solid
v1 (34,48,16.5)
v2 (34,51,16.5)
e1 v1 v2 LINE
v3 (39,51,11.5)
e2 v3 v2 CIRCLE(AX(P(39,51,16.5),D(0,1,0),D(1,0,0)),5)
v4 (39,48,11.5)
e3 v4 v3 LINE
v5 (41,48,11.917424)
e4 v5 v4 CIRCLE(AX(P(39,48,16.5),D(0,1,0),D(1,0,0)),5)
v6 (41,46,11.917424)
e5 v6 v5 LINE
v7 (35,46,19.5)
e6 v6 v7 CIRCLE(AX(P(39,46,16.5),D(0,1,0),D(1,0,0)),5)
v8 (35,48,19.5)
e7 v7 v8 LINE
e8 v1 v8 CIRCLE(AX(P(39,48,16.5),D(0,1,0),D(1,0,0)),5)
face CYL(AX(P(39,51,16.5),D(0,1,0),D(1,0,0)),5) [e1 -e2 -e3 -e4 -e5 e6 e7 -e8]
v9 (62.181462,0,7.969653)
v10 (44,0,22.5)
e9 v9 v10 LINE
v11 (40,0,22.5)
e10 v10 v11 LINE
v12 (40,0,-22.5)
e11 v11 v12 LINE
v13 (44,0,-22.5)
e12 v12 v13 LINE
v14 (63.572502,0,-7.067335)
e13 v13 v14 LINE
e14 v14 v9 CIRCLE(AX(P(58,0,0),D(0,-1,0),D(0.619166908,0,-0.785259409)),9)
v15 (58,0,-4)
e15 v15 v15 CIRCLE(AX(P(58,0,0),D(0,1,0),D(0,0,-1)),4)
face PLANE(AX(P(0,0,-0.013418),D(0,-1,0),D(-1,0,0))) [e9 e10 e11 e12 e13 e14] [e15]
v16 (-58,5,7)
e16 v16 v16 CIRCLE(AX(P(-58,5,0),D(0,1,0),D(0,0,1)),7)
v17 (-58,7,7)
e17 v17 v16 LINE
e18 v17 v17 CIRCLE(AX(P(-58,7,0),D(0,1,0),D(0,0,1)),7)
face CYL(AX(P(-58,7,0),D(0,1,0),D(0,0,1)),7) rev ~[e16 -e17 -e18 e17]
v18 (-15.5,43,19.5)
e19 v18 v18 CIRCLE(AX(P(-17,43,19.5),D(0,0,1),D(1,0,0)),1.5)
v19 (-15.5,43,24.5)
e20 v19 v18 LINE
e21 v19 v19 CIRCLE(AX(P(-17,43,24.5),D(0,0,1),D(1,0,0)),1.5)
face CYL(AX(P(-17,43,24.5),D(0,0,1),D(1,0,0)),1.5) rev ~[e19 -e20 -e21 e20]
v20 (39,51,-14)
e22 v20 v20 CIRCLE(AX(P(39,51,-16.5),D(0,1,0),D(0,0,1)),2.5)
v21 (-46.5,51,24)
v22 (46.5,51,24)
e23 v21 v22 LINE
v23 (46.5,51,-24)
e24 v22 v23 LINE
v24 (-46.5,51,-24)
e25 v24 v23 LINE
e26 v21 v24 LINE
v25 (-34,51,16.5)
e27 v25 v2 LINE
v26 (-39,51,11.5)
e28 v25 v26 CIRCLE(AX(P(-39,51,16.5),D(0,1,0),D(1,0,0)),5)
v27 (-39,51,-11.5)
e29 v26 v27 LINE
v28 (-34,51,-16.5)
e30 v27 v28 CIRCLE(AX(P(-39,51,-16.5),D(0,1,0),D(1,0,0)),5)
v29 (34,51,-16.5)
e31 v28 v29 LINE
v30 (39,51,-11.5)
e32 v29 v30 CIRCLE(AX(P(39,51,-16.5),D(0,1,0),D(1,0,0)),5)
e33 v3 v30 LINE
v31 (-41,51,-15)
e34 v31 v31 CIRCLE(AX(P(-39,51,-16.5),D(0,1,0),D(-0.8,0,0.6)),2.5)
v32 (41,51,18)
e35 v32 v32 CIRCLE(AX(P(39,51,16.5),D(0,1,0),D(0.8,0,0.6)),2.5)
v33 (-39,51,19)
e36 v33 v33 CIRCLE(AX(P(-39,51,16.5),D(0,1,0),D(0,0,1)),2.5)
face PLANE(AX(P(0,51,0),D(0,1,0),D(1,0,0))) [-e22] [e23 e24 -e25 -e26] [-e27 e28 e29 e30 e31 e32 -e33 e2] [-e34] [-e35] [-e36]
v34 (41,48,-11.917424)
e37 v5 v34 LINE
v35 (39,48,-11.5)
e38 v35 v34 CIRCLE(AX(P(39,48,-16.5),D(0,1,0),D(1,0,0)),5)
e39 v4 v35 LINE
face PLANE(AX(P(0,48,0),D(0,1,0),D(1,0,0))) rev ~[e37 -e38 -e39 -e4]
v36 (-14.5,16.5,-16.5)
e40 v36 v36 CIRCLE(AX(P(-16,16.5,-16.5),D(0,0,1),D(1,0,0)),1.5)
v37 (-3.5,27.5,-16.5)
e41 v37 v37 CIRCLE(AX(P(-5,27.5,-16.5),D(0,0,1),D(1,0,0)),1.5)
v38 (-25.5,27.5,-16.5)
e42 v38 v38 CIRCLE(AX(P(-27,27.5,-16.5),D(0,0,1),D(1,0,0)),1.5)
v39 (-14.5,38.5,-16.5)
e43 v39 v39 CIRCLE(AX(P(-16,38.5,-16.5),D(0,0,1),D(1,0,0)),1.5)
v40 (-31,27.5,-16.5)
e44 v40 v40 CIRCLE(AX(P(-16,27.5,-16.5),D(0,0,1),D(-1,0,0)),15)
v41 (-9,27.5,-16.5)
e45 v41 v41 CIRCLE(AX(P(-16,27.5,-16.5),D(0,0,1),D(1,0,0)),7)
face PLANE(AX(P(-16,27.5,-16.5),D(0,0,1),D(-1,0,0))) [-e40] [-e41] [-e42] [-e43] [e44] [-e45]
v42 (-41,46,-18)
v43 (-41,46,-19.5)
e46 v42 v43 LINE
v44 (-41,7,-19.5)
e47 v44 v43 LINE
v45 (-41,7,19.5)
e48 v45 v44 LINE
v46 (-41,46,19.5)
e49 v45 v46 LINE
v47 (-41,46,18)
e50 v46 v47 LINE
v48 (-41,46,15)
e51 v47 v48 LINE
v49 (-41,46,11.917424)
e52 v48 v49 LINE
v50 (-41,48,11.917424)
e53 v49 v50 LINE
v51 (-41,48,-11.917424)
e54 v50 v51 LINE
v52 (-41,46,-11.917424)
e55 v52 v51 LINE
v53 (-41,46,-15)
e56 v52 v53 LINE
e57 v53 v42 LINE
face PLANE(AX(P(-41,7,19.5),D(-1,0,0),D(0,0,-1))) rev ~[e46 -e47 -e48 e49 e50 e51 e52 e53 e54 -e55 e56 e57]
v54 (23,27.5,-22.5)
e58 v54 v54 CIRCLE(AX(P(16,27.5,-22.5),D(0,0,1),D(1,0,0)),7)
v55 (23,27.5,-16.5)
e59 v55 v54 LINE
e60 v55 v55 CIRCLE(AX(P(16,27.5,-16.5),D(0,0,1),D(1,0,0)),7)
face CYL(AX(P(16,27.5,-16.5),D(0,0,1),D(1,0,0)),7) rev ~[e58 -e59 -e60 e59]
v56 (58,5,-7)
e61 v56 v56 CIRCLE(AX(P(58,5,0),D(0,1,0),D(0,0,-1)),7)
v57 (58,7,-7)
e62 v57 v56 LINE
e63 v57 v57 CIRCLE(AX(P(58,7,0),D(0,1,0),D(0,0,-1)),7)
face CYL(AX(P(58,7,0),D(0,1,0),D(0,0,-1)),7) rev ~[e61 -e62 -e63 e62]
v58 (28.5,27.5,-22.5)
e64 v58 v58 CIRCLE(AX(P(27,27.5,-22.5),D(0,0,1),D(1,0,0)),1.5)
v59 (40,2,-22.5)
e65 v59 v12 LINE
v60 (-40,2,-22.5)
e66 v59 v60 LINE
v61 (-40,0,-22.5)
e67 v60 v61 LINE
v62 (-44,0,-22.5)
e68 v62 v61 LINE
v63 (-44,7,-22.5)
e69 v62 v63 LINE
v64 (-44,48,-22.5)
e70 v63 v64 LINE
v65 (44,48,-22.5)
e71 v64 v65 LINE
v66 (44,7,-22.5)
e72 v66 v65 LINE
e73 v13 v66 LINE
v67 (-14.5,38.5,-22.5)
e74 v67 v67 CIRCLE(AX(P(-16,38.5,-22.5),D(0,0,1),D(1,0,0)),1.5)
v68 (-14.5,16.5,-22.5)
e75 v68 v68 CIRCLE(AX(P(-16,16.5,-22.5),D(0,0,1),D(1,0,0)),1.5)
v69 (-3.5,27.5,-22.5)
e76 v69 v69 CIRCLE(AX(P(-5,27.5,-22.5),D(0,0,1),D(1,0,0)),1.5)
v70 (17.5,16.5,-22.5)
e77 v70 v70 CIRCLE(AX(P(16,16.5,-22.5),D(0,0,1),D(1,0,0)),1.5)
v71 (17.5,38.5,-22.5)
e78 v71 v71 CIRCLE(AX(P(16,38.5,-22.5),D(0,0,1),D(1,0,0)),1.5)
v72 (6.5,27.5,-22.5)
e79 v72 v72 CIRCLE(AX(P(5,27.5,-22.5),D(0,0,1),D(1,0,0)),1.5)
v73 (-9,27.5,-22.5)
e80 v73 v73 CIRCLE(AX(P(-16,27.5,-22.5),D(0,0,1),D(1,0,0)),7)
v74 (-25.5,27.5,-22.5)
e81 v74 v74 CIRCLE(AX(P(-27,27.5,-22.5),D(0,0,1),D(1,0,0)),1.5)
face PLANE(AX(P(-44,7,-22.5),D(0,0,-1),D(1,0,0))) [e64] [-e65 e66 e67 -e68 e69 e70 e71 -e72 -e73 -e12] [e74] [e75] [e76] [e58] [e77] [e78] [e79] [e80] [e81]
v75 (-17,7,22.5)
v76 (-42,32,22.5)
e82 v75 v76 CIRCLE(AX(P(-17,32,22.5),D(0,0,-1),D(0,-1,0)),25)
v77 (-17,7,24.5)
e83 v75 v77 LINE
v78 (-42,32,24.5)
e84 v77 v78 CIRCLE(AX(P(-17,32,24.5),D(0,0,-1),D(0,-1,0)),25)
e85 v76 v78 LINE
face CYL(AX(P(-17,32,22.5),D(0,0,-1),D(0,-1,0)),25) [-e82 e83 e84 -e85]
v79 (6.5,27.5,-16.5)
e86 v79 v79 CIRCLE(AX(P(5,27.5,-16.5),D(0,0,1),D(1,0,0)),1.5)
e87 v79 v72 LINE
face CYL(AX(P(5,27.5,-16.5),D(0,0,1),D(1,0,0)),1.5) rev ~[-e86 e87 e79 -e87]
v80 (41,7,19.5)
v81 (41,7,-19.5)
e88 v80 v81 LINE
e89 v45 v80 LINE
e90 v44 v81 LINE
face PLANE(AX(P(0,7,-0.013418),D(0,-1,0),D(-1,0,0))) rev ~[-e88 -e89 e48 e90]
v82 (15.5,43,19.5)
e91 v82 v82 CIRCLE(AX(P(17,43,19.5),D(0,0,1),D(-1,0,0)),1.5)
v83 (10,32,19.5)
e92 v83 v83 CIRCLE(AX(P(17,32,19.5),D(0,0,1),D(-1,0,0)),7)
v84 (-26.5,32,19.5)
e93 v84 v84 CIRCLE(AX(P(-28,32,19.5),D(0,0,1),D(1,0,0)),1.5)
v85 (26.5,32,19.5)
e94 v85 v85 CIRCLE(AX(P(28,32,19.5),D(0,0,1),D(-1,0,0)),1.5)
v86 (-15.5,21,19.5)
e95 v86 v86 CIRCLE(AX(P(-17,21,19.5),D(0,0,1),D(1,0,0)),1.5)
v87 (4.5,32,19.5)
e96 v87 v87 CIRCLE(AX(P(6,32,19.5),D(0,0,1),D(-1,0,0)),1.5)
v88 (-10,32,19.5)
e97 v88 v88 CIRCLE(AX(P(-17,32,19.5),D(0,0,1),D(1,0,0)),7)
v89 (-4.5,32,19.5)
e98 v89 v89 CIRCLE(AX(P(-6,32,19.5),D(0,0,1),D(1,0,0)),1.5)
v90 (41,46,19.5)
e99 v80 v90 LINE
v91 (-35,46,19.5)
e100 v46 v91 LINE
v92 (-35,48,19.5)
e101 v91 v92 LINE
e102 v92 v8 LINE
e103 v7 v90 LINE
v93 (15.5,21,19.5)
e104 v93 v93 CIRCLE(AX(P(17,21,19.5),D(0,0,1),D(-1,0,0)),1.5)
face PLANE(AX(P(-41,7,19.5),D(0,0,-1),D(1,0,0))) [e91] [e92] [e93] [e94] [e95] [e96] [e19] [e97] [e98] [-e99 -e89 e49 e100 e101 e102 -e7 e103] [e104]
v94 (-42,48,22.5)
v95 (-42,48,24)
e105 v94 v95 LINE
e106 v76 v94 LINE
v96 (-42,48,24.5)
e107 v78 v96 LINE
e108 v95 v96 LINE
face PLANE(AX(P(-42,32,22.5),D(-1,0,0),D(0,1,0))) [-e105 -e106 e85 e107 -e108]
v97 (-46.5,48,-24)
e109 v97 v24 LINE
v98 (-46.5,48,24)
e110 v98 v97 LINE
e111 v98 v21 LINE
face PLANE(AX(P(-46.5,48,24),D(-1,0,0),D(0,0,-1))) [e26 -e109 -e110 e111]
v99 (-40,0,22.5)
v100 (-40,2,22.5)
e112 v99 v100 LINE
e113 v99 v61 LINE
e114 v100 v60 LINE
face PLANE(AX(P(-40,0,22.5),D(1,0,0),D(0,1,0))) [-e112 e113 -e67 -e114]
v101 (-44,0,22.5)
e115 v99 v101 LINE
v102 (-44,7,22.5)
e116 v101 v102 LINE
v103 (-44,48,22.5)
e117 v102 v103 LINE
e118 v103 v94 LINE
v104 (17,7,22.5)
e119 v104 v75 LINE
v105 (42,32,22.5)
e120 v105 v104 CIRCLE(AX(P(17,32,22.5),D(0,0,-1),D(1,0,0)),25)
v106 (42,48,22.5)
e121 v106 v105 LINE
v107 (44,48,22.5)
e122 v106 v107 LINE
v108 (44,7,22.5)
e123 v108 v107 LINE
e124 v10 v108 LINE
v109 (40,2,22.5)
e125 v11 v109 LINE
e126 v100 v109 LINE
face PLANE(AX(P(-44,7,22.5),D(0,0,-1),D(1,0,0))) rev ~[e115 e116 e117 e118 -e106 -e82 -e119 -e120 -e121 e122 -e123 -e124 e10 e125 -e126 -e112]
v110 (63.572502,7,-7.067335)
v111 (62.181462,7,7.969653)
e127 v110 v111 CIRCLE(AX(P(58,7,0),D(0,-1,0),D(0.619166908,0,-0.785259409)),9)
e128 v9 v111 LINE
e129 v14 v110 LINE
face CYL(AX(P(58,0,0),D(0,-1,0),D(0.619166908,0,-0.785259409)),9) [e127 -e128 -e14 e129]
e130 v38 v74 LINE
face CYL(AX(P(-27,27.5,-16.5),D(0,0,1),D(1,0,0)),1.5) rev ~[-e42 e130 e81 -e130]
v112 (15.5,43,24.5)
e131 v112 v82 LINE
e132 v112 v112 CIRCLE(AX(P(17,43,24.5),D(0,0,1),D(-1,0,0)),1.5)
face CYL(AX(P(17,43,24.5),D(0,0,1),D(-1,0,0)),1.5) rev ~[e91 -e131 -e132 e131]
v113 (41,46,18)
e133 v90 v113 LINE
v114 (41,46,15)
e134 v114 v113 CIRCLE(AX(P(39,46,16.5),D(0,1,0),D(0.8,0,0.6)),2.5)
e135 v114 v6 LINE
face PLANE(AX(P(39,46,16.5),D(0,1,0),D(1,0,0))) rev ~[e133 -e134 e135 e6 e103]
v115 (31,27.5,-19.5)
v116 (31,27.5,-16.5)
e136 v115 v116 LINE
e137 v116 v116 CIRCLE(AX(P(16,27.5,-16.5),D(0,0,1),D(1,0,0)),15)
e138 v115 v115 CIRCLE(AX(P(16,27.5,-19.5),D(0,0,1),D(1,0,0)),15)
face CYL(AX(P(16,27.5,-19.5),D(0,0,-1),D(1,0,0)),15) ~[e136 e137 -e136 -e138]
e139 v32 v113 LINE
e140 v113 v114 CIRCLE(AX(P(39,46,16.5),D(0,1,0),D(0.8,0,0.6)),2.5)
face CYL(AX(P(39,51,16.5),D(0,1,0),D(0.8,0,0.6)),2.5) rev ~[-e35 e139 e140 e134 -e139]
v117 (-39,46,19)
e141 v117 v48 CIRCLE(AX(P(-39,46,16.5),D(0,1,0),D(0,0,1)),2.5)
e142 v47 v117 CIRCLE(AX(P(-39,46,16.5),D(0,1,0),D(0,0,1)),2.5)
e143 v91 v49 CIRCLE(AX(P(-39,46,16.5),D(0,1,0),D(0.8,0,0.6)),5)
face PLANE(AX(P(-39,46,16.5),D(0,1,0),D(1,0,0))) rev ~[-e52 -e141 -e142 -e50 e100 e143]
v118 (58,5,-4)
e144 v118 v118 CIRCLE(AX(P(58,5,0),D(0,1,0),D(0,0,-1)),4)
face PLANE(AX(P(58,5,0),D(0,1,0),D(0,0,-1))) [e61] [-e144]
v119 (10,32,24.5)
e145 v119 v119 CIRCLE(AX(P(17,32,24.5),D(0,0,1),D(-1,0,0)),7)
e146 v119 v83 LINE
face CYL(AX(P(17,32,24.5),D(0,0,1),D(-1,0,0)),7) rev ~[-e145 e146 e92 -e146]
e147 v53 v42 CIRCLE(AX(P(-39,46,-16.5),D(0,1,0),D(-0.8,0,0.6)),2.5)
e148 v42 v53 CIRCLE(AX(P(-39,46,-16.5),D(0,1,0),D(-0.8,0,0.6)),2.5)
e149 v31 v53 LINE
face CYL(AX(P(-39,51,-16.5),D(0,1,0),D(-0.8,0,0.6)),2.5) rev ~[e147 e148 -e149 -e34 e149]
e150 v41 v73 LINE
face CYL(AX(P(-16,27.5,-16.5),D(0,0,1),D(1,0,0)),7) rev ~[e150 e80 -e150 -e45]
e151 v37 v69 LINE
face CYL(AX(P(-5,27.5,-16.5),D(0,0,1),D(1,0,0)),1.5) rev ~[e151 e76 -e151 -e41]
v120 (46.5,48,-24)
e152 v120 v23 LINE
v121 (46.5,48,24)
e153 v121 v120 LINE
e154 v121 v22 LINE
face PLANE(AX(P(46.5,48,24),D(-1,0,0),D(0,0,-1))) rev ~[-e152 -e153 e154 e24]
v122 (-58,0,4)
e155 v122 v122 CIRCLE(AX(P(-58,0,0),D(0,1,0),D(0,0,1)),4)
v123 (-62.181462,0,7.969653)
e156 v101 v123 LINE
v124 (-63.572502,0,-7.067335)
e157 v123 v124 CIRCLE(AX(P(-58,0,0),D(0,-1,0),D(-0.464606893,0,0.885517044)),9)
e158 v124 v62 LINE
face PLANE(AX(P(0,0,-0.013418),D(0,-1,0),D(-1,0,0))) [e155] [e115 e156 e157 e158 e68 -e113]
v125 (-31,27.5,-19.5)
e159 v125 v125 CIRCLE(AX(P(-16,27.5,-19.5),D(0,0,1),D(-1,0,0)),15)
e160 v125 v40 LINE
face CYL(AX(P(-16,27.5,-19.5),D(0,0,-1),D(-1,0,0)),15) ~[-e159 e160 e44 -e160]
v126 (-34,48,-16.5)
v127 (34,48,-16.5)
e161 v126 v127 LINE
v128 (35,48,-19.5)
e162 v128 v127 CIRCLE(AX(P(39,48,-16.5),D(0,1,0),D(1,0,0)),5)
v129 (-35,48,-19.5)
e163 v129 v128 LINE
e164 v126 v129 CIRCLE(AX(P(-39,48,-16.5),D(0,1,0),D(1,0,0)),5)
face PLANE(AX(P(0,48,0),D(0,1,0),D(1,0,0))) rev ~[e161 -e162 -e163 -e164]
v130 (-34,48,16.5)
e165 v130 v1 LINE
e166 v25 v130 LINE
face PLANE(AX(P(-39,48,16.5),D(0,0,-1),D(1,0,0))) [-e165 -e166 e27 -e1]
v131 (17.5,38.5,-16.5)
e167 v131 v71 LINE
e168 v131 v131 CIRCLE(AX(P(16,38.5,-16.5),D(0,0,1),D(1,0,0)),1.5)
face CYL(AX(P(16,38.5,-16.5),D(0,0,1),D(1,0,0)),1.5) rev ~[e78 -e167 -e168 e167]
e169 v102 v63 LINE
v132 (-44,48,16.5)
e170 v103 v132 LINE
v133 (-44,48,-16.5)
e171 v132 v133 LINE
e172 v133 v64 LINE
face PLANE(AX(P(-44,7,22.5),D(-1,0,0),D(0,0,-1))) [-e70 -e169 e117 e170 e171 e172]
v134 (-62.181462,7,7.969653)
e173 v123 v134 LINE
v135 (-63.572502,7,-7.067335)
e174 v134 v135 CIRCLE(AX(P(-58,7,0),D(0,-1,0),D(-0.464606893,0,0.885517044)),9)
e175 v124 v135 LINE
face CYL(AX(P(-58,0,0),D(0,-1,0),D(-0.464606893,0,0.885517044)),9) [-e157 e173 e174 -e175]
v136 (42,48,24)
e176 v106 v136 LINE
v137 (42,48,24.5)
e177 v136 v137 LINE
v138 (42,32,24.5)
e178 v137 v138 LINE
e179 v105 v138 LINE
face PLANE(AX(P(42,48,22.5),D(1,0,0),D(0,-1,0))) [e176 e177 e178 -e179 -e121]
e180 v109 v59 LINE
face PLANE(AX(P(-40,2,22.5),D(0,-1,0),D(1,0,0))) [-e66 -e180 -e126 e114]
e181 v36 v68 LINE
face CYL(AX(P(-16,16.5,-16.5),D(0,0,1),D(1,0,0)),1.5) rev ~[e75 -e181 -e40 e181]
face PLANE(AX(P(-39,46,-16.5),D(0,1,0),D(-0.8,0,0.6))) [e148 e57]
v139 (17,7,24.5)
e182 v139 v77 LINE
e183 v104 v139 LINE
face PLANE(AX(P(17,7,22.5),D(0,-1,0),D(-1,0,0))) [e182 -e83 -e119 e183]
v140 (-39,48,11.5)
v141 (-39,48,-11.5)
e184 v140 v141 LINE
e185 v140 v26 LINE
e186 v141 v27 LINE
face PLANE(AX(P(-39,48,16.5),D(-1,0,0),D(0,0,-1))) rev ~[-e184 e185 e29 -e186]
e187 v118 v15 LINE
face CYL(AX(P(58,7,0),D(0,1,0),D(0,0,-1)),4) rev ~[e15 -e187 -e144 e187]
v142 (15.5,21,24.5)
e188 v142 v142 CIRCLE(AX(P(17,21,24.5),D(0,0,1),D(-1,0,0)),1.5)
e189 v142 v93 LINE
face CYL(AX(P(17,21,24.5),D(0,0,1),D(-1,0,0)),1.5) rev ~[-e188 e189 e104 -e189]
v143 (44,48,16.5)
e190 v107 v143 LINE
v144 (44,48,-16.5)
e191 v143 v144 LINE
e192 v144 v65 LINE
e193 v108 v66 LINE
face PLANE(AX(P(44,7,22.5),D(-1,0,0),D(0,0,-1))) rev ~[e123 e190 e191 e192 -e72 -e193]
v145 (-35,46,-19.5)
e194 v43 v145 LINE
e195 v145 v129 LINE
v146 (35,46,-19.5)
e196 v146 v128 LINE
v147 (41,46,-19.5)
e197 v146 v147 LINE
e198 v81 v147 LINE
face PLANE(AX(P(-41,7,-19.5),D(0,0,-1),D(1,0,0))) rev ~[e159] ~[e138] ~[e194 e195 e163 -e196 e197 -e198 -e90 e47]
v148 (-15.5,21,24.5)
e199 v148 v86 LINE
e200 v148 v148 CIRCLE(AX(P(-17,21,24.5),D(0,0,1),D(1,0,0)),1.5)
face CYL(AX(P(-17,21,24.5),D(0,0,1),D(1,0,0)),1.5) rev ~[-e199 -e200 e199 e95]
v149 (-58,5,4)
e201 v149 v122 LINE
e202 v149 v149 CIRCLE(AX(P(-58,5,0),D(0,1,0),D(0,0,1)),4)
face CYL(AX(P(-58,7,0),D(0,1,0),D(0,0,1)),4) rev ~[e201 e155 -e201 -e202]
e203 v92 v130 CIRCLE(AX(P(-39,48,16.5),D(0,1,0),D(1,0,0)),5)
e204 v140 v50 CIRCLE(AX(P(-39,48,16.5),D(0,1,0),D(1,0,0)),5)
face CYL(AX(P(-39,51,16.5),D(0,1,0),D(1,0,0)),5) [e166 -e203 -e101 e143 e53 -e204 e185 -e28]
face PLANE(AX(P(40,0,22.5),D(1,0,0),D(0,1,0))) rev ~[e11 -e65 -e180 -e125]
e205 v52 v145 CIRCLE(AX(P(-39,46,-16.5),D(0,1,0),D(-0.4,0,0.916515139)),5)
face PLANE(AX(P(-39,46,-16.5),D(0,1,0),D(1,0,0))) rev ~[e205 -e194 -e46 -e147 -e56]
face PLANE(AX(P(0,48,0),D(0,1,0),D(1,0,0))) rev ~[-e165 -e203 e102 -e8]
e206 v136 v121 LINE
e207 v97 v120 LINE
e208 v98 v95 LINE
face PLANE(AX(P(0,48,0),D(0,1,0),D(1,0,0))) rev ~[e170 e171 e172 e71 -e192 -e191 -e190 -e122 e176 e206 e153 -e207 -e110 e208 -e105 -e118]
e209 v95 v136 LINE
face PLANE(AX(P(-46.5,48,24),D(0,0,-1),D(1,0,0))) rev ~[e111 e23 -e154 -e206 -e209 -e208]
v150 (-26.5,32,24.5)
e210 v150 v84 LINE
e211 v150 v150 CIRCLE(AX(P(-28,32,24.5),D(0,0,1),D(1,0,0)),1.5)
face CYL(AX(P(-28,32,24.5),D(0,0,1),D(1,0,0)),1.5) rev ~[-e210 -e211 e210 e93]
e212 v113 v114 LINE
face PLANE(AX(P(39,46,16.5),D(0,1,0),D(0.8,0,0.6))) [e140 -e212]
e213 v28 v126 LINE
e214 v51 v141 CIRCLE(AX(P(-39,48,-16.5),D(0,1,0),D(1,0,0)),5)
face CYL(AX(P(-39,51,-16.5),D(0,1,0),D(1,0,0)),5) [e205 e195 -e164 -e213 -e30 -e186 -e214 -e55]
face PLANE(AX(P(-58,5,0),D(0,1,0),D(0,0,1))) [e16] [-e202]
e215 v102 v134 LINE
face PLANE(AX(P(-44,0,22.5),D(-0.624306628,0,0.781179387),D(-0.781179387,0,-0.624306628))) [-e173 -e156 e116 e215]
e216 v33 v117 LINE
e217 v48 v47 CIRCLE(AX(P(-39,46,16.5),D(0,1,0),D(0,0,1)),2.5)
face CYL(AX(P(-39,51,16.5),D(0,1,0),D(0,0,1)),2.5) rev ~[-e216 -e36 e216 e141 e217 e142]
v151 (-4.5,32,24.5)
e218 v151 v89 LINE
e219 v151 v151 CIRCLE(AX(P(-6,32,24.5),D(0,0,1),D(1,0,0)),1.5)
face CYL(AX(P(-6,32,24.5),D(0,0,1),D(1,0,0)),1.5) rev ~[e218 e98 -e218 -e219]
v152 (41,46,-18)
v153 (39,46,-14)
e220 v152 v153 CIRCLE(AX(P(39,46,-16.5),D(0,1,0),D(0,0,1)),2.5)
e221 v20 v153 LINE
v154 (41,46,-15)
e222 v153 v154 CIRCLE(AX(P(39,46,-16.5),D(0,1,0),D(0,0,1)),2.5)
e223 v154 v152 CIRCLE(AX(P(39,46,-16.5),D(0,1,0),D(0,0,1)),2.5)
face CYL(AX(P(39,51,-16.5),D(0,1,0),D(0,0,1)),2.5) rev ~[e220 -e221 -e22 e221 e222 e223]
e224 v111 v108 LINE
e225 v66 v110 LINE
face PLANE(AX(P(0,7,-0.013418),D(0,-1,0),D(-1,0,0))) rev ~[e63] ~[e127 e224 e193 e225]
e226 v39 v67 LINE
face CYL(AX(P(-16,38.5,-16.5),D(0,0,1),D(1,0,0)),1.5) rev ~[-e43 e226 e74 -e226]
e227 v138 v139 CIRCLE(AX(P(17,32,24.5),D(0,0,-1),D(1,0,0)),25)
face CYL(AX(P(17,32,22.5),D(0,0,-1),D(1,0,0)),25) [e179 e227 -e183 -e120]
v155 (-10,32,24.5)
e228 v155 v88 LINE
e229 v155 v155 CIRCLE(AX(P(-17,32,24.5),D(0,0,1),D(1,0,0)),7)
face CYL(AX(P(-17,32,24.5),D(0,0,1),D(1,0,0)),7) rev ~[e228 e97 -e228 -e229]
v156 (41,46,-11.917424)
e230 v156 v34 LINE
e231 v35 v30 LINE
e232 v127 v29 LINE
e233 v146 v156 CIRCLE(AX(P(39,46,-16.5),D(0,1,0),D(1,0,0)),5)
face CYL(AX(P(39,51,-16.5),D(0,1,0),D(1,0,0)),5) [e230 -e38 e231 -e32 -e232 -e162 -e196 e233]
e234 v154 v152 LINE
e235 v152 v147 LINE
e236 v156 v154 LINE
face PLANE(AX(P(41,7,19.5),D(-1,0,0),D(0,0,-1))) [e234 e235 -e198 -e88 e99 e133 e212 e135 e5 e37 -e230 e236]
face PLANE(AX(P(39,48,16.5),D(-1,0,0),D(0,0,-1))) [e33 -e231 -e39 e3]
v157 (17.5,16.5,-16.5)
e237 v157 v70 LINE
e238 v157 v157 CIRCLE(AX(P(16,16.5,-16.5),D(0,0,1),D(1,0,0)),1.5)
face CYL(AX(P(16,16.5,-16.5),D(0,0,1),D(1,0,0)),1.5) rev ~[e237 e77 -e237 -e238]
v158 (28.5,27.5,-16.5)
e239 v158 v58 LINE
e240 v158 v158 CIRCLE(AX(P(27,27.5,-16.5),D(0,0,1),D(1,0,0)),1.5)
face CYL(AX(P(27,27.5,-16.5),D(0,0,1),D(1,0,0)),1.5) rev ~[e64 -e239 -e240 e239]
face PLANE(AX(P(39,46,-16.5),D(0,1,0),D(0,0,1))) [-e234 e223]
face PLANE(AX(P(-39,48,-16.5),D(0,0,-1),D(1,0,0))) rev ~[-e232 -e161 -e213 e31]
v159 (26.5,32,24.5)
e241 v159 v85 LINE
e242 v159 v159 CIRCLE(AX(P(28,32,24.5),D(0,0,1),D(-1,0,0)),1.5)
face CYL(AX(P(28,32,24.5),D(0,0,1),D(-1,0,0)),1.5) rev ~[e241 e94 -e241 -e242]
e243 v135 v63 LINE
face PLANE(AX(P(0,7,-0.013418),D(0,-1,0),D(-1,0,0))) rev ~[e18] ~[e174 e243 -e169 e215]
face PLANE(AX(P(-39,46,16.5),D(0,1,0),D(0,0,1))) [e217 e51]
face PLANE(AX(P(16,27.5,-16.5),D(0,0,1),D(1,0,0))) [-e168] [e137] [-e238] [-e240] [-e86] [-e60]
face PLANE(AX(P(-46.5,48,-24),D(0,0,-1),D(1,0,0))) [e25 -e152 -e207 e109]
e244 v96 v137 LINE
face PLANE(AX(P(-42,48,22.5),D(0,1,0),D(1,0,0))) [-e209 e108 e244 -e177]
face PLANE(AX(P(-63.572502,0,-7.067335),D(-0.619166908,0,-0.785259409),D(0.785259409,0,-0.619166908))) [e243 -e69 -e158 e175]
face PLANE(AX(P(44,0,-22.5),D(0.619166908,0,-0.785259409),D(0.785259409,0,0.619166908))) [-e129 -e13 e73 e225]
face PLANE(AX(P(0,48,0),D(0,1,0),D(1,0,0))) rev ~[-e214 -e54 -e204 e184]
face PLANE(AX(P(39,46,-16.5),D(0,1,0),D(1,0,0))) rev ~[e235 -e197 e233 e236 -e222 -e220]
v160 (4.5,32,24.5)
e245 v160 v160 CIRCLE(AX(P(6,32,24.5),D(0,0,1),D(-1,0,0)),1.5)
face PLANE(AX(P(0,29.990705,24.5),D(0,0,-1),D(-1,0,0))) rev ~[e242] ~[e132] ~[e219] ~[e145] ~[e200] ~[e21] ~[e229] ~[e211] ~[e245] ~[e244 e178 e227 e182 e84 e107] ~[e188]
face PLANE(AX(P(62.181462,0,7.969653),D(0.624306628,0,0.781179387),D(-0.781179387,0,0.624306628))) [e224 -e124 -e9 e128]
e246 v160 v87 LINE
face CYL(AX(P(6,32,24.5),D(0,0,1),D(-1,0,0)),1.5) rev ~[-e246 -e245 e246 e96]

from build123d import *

# Parameters (mm, degrees)
BOSS_EXTRUDE5_DEPTH  = 7
SKETCH10_W           = 88
SKETCH10_H           = 45
SKETCH10_W_2         = 82
SKETCH10_H_2         = 39
BOSS_EXTRUDE6_DEPTH  = 41
SKETCH11_W           = 93
SKETCH11_H           = 48
SKETCH11_W_2         = 78
SKETCH11_H_2         = 33
BOSS_EXTRUDE7_DEPTH  = 3
SKETCH12_R           = 5
BOSS_EXTRUDE8_DEPTH  = 5
SKETCH13_R           = 2.5
CUT_EXTRUDE1_DEPTH   = 5
SKETCH14_R           = 15
BOSS_EXTRUDE9_DEPTH  = 3
SKETCH16_R           = 7
CUT_EXTRUDE2_DEPTH   = 22
SKETCH17_R           = 1.5
CUT_EXTRUDE3_DEPTH   = 22
SKETCH18_W           = 80
SKETCH18_H           = 2
CUT_EXTRUDE4_DEPTH   = 92
BOSS_EXTRUDE11_DEPTH = 2
SKETCH20_R           = 7
CUT_EXTRUDE5_DEPTH   = 14
SKETCH21_R           = 1.5
CUT_EXTRUDE6_DEPTH   = 14
SKETCH22_R           = 4
CUT_EXTRUDE8_DEPTH   = 14
SKETCH23_R           = 7
CUT_EXTRUDE9_DEPTH   = 2


with BuildPart() as part:
    # Sketch9 → Boss-Extrude5 (new body)
    with BuildSketch(Plane(origin=(0, 0, 0), x_dir=(1, 0, 0), z_dir=(0, 1, 0))):
        with BuildLine():
            Line((-44, 22.5), (44, 22.5))
            Line((44, 22.5), (63.572502172, 7.067334685))
            ThreePointArc((63.572502172, 7.067334685), (66.961735718, -0.829031319), (62.181462037, -7.969653395))
            Line((62.181462037, -7.969653395), (44, -22.5))
            Line((44, -22.5), (-44, -22.5))
            Line((-44, -22.5), (-62.181462037, -7.969653395))
            ThreePointArc((-62.181462037, -7.969653395), (-66.961735718, -0.829031319), (-63.572502172, 7.067334685))
            Line((-63.572502172, 7.067334685), (-44, 22.5))
        make_face()
    extrude(amount=BOSS_EXTRUDE5_DEPTH)

    # Sketch10 → Boss-Extrude6 (add)
    with BuildSketch(Plane(origin=(0, 7, 0), x_dir=(1, 0, 0), z_dir=(0, 1, 0))):
        Rectangle(SKETCH10_W, SKETCH10_H)
        Rectangle(SKETCH10_W_2, SKETCH10_H_2, mode=Mode.SUBTRACT)
    extrude(amount=BOSS_EXTRUDE6_DEPTH)

    # Sketch11 → Boss-Extrude7 (add)
    with BuildSketch(Plane(origin=(0, 48, 0), x_dir=(1, 0, 0), z_dir=(0, 1, 0))):
        Rectangle(SKETCH11_W, SKETCH11_H)
        Rectangle(SKETCH11_W_2, SKETCH11_H_2, mode=Mode.SUBTRACT)
    extrude(amount=BOSS_EXTRUDE7_DEPTH)

    # Sketch12 → Boss-Extrude8 (add)
    with BuildSketch(Plane(origin=(0, 51, 0), x_dir=(1, 0, 0), z_dir=(0, 1, 0))):
        with Locations((39, 16.5)):
            Circle(SKETCH12_R)
        with Locations((39, -16.5)):
            Circle(SKETCH12_R)
        with Locations((-39, -16.5)):
            Circle(SKETCH12_R)
        with Locations((-39, 16.5)):
            Circle(SKETCH12_R)
    extrude(amount=-BOSS_EXTRUDE8_DEPTH)

    # Sketch13 → Cut-Extrude1 (cut)
    with BuildSketch(Plane(origin=(0, 51, 0), x_dir=(1, 0, 0), z_dir=(0, 1, 0))):
        with Locations(Location((39, 16.5, 0), (0, 0, 270))):
            Circle(SKETCH13_R)
        with Locations(Location((39, -16.5, 0), (0, 0, 323.130102354))):
            Circle(SKETCH13_R)
        with Locations(Location((-39, 16.5, 0), (0, 0, 216.869897646))):
            Circle(SKETCH13_R)
        with Locations(Location((-39, -16.5, 0), (0, 0, 270))):
            Circle(SKETCH13_R)
    extrude(amount=-CUT_EXTRUDE1_DEPTH, mode=Mode.SUBTRACT)

    # Sketch14 → Boss-Extrude9 (add)
    with BuildSketch(Plane.XY.offset(-19.5)):
        with Locations((16, 27.5)):
            Circle(SKETCH14_R)
        with Locations(Location((-16, 27.5, 0), (0, 0, 180))):
            Circle(SKETCH14_R)
    extrude(amount=BOSS_EXTRUDE9_DEPTH)

    # Sketch16 → Cut-Extrude2 (cut)
    with BuildSketch(Plane.XY.offset(-16.5)):
        with Locations((-16, 27.5)):
            Circle(SKETCH16_R)
        with Locations((16, 27.5)):
            Circle(SKETCH16_R)
    extrude(amount=-CUT_EXTRUDE2_DEPTH, mode=Mode.SUBTRACT)

    # Sketch17 → Cut-Extrude3 (cut)
    with BuildSketch(Plane.XY.offset(-16.5)):
        with Locations((16, 38.5)):
            Circle(SKETCH17_R)
        with Locations((27, 27.5)):
            Circle(SKETCH17_R)
        with Locations((16, 16.5)):
            Circle(SKETCH17_R)
        with Locations((5, 27.5)):
            Circle(SKETCH17_R)
        with Locations((-5, 27.5)):
            Circle(SKETCH17_R)
        with Locations((-16, 16.5)):
            Circle(SKETCH17_R)
        with Locations((-27, 27.5)):
            Circle(SKETCH17_R)
        with Locations((-16, 38.5)):
            Circle(SKETCH17_R)
    extrude(amount=-CUT_EXTRUDE3_DEPTH, mode=Mode.SUBTRACT)

    # Sketch18 → Cut-Extrude4 (cut)
    with BuildSketch(Plane.XY.offset(22.5)):
        with Locations((0, 1)):
            Rectangle(SKETCH18_W, SKETCH18_H)
    extrude(amount=-CUT_EXTRUDE4_DEPTH, mode=Mode.SUBTRACT)

    # Sketch19 → Boss-Extrude11 (add)
    with BuildSketch(Plane.XY.offset(22.5)):
        with BuildLine():
            Line((-42, 48), (42, 48))
            Line((42, 48), (42, 32))
            ThreePointArc((42, 32), (34.67766953, 14.32233047), (17, 7))
            Line((17, 7), (-17, 7))
            ThreePointArc((-17, 7), (-34.67766953, 14.32233047), (-42, 32))
            Line((-42, 32), (-42, 48))
        make_face()
    extrude(amount=BOSS_EXTRUDE11_DEPTH)

    # Sketch20 → Cut-Extrude5 (cut)
    with BuildSketch(Plane.XY.offset(24.5)):
        with Locations((-17, 32)):
            Circle(SKETCH20_R)
        with Locations(Location((17, 32, 0), (0, 0, 180))):
            Circle(SKETCH20_R)
    extrude(amount=-CUT_EXTRUDE5_DEPTH, mode=Mode.SUBTRACT)

    # Sketch21 → Cut-Extrude6 (cut)
    with BuildSketch(Plane.XY.offset(24.5)):
        with Locations((-17, 43)):
            Circle(SKETCH21_R)
        with Locations((-6, 32)):
            Circle(SKETCH21_R)
        with Locations((-17, 21)):
            Circle(SKETCH21_R)
        with Locations((-28, 32)):
            Circle(SKETCH21_R)
        with Locations(Location((17, 21, 0), (0, 0, 180))):
            Circle(SKETCH21_R)
        with Locations(Location((28, 32, 0), (0, 0, 180))):
            Circle(SKETCH21_R)
        with Locations(Location((17, 43, 0), (0, 0, 180))):
            Circle(SKETCH21_R)
        with Locations(Location((6, 32, 0), (0, 0, 180))):
            Circle(SKETCH21_R)
    extrude(amount=-CUT_EXTRUDE6_DEPTH, mode=Mode.SUBTRACT)

    # Sketch22 → Cut-Extrude8 (cut)
    with BuildSketch(Plane(origin=(0, 7, 0), x_dir=(1, 0, 0), z_dir=(0, 1, 0))):
        with Locations(Location((-58, 0, 0), (0, 0, 270))):
            Circle(SKETCH22_R)
        with Locations(Location((58, 0, 0), (0, 0, 90))):
            Circle(SKETCH22_R)
    extrude(amount=-CUT_EXTRUDE8_DEPTH, mode=Mode.SUBTRACT)

    # Sketch23 → Cut-Extrude9 (cut)
    with BuildSketch(Plane(origin=(0, 7, 0), x_dir=(1, 0, 0), z_dir=(0, 1, 0))):
        with Locations(Location((-58, 0, 0), (0, 0, 270))):
            Circle(SKETCH23_R)
        with Locations(Location((58, 0, 0), (0, 0, 90))):
            Circle(SKETCH23_R)
    extrude(amount=-CUT_EXTRUDE9_DEPTH, mode=Mode.SUBTRACT)


solid = part.part
